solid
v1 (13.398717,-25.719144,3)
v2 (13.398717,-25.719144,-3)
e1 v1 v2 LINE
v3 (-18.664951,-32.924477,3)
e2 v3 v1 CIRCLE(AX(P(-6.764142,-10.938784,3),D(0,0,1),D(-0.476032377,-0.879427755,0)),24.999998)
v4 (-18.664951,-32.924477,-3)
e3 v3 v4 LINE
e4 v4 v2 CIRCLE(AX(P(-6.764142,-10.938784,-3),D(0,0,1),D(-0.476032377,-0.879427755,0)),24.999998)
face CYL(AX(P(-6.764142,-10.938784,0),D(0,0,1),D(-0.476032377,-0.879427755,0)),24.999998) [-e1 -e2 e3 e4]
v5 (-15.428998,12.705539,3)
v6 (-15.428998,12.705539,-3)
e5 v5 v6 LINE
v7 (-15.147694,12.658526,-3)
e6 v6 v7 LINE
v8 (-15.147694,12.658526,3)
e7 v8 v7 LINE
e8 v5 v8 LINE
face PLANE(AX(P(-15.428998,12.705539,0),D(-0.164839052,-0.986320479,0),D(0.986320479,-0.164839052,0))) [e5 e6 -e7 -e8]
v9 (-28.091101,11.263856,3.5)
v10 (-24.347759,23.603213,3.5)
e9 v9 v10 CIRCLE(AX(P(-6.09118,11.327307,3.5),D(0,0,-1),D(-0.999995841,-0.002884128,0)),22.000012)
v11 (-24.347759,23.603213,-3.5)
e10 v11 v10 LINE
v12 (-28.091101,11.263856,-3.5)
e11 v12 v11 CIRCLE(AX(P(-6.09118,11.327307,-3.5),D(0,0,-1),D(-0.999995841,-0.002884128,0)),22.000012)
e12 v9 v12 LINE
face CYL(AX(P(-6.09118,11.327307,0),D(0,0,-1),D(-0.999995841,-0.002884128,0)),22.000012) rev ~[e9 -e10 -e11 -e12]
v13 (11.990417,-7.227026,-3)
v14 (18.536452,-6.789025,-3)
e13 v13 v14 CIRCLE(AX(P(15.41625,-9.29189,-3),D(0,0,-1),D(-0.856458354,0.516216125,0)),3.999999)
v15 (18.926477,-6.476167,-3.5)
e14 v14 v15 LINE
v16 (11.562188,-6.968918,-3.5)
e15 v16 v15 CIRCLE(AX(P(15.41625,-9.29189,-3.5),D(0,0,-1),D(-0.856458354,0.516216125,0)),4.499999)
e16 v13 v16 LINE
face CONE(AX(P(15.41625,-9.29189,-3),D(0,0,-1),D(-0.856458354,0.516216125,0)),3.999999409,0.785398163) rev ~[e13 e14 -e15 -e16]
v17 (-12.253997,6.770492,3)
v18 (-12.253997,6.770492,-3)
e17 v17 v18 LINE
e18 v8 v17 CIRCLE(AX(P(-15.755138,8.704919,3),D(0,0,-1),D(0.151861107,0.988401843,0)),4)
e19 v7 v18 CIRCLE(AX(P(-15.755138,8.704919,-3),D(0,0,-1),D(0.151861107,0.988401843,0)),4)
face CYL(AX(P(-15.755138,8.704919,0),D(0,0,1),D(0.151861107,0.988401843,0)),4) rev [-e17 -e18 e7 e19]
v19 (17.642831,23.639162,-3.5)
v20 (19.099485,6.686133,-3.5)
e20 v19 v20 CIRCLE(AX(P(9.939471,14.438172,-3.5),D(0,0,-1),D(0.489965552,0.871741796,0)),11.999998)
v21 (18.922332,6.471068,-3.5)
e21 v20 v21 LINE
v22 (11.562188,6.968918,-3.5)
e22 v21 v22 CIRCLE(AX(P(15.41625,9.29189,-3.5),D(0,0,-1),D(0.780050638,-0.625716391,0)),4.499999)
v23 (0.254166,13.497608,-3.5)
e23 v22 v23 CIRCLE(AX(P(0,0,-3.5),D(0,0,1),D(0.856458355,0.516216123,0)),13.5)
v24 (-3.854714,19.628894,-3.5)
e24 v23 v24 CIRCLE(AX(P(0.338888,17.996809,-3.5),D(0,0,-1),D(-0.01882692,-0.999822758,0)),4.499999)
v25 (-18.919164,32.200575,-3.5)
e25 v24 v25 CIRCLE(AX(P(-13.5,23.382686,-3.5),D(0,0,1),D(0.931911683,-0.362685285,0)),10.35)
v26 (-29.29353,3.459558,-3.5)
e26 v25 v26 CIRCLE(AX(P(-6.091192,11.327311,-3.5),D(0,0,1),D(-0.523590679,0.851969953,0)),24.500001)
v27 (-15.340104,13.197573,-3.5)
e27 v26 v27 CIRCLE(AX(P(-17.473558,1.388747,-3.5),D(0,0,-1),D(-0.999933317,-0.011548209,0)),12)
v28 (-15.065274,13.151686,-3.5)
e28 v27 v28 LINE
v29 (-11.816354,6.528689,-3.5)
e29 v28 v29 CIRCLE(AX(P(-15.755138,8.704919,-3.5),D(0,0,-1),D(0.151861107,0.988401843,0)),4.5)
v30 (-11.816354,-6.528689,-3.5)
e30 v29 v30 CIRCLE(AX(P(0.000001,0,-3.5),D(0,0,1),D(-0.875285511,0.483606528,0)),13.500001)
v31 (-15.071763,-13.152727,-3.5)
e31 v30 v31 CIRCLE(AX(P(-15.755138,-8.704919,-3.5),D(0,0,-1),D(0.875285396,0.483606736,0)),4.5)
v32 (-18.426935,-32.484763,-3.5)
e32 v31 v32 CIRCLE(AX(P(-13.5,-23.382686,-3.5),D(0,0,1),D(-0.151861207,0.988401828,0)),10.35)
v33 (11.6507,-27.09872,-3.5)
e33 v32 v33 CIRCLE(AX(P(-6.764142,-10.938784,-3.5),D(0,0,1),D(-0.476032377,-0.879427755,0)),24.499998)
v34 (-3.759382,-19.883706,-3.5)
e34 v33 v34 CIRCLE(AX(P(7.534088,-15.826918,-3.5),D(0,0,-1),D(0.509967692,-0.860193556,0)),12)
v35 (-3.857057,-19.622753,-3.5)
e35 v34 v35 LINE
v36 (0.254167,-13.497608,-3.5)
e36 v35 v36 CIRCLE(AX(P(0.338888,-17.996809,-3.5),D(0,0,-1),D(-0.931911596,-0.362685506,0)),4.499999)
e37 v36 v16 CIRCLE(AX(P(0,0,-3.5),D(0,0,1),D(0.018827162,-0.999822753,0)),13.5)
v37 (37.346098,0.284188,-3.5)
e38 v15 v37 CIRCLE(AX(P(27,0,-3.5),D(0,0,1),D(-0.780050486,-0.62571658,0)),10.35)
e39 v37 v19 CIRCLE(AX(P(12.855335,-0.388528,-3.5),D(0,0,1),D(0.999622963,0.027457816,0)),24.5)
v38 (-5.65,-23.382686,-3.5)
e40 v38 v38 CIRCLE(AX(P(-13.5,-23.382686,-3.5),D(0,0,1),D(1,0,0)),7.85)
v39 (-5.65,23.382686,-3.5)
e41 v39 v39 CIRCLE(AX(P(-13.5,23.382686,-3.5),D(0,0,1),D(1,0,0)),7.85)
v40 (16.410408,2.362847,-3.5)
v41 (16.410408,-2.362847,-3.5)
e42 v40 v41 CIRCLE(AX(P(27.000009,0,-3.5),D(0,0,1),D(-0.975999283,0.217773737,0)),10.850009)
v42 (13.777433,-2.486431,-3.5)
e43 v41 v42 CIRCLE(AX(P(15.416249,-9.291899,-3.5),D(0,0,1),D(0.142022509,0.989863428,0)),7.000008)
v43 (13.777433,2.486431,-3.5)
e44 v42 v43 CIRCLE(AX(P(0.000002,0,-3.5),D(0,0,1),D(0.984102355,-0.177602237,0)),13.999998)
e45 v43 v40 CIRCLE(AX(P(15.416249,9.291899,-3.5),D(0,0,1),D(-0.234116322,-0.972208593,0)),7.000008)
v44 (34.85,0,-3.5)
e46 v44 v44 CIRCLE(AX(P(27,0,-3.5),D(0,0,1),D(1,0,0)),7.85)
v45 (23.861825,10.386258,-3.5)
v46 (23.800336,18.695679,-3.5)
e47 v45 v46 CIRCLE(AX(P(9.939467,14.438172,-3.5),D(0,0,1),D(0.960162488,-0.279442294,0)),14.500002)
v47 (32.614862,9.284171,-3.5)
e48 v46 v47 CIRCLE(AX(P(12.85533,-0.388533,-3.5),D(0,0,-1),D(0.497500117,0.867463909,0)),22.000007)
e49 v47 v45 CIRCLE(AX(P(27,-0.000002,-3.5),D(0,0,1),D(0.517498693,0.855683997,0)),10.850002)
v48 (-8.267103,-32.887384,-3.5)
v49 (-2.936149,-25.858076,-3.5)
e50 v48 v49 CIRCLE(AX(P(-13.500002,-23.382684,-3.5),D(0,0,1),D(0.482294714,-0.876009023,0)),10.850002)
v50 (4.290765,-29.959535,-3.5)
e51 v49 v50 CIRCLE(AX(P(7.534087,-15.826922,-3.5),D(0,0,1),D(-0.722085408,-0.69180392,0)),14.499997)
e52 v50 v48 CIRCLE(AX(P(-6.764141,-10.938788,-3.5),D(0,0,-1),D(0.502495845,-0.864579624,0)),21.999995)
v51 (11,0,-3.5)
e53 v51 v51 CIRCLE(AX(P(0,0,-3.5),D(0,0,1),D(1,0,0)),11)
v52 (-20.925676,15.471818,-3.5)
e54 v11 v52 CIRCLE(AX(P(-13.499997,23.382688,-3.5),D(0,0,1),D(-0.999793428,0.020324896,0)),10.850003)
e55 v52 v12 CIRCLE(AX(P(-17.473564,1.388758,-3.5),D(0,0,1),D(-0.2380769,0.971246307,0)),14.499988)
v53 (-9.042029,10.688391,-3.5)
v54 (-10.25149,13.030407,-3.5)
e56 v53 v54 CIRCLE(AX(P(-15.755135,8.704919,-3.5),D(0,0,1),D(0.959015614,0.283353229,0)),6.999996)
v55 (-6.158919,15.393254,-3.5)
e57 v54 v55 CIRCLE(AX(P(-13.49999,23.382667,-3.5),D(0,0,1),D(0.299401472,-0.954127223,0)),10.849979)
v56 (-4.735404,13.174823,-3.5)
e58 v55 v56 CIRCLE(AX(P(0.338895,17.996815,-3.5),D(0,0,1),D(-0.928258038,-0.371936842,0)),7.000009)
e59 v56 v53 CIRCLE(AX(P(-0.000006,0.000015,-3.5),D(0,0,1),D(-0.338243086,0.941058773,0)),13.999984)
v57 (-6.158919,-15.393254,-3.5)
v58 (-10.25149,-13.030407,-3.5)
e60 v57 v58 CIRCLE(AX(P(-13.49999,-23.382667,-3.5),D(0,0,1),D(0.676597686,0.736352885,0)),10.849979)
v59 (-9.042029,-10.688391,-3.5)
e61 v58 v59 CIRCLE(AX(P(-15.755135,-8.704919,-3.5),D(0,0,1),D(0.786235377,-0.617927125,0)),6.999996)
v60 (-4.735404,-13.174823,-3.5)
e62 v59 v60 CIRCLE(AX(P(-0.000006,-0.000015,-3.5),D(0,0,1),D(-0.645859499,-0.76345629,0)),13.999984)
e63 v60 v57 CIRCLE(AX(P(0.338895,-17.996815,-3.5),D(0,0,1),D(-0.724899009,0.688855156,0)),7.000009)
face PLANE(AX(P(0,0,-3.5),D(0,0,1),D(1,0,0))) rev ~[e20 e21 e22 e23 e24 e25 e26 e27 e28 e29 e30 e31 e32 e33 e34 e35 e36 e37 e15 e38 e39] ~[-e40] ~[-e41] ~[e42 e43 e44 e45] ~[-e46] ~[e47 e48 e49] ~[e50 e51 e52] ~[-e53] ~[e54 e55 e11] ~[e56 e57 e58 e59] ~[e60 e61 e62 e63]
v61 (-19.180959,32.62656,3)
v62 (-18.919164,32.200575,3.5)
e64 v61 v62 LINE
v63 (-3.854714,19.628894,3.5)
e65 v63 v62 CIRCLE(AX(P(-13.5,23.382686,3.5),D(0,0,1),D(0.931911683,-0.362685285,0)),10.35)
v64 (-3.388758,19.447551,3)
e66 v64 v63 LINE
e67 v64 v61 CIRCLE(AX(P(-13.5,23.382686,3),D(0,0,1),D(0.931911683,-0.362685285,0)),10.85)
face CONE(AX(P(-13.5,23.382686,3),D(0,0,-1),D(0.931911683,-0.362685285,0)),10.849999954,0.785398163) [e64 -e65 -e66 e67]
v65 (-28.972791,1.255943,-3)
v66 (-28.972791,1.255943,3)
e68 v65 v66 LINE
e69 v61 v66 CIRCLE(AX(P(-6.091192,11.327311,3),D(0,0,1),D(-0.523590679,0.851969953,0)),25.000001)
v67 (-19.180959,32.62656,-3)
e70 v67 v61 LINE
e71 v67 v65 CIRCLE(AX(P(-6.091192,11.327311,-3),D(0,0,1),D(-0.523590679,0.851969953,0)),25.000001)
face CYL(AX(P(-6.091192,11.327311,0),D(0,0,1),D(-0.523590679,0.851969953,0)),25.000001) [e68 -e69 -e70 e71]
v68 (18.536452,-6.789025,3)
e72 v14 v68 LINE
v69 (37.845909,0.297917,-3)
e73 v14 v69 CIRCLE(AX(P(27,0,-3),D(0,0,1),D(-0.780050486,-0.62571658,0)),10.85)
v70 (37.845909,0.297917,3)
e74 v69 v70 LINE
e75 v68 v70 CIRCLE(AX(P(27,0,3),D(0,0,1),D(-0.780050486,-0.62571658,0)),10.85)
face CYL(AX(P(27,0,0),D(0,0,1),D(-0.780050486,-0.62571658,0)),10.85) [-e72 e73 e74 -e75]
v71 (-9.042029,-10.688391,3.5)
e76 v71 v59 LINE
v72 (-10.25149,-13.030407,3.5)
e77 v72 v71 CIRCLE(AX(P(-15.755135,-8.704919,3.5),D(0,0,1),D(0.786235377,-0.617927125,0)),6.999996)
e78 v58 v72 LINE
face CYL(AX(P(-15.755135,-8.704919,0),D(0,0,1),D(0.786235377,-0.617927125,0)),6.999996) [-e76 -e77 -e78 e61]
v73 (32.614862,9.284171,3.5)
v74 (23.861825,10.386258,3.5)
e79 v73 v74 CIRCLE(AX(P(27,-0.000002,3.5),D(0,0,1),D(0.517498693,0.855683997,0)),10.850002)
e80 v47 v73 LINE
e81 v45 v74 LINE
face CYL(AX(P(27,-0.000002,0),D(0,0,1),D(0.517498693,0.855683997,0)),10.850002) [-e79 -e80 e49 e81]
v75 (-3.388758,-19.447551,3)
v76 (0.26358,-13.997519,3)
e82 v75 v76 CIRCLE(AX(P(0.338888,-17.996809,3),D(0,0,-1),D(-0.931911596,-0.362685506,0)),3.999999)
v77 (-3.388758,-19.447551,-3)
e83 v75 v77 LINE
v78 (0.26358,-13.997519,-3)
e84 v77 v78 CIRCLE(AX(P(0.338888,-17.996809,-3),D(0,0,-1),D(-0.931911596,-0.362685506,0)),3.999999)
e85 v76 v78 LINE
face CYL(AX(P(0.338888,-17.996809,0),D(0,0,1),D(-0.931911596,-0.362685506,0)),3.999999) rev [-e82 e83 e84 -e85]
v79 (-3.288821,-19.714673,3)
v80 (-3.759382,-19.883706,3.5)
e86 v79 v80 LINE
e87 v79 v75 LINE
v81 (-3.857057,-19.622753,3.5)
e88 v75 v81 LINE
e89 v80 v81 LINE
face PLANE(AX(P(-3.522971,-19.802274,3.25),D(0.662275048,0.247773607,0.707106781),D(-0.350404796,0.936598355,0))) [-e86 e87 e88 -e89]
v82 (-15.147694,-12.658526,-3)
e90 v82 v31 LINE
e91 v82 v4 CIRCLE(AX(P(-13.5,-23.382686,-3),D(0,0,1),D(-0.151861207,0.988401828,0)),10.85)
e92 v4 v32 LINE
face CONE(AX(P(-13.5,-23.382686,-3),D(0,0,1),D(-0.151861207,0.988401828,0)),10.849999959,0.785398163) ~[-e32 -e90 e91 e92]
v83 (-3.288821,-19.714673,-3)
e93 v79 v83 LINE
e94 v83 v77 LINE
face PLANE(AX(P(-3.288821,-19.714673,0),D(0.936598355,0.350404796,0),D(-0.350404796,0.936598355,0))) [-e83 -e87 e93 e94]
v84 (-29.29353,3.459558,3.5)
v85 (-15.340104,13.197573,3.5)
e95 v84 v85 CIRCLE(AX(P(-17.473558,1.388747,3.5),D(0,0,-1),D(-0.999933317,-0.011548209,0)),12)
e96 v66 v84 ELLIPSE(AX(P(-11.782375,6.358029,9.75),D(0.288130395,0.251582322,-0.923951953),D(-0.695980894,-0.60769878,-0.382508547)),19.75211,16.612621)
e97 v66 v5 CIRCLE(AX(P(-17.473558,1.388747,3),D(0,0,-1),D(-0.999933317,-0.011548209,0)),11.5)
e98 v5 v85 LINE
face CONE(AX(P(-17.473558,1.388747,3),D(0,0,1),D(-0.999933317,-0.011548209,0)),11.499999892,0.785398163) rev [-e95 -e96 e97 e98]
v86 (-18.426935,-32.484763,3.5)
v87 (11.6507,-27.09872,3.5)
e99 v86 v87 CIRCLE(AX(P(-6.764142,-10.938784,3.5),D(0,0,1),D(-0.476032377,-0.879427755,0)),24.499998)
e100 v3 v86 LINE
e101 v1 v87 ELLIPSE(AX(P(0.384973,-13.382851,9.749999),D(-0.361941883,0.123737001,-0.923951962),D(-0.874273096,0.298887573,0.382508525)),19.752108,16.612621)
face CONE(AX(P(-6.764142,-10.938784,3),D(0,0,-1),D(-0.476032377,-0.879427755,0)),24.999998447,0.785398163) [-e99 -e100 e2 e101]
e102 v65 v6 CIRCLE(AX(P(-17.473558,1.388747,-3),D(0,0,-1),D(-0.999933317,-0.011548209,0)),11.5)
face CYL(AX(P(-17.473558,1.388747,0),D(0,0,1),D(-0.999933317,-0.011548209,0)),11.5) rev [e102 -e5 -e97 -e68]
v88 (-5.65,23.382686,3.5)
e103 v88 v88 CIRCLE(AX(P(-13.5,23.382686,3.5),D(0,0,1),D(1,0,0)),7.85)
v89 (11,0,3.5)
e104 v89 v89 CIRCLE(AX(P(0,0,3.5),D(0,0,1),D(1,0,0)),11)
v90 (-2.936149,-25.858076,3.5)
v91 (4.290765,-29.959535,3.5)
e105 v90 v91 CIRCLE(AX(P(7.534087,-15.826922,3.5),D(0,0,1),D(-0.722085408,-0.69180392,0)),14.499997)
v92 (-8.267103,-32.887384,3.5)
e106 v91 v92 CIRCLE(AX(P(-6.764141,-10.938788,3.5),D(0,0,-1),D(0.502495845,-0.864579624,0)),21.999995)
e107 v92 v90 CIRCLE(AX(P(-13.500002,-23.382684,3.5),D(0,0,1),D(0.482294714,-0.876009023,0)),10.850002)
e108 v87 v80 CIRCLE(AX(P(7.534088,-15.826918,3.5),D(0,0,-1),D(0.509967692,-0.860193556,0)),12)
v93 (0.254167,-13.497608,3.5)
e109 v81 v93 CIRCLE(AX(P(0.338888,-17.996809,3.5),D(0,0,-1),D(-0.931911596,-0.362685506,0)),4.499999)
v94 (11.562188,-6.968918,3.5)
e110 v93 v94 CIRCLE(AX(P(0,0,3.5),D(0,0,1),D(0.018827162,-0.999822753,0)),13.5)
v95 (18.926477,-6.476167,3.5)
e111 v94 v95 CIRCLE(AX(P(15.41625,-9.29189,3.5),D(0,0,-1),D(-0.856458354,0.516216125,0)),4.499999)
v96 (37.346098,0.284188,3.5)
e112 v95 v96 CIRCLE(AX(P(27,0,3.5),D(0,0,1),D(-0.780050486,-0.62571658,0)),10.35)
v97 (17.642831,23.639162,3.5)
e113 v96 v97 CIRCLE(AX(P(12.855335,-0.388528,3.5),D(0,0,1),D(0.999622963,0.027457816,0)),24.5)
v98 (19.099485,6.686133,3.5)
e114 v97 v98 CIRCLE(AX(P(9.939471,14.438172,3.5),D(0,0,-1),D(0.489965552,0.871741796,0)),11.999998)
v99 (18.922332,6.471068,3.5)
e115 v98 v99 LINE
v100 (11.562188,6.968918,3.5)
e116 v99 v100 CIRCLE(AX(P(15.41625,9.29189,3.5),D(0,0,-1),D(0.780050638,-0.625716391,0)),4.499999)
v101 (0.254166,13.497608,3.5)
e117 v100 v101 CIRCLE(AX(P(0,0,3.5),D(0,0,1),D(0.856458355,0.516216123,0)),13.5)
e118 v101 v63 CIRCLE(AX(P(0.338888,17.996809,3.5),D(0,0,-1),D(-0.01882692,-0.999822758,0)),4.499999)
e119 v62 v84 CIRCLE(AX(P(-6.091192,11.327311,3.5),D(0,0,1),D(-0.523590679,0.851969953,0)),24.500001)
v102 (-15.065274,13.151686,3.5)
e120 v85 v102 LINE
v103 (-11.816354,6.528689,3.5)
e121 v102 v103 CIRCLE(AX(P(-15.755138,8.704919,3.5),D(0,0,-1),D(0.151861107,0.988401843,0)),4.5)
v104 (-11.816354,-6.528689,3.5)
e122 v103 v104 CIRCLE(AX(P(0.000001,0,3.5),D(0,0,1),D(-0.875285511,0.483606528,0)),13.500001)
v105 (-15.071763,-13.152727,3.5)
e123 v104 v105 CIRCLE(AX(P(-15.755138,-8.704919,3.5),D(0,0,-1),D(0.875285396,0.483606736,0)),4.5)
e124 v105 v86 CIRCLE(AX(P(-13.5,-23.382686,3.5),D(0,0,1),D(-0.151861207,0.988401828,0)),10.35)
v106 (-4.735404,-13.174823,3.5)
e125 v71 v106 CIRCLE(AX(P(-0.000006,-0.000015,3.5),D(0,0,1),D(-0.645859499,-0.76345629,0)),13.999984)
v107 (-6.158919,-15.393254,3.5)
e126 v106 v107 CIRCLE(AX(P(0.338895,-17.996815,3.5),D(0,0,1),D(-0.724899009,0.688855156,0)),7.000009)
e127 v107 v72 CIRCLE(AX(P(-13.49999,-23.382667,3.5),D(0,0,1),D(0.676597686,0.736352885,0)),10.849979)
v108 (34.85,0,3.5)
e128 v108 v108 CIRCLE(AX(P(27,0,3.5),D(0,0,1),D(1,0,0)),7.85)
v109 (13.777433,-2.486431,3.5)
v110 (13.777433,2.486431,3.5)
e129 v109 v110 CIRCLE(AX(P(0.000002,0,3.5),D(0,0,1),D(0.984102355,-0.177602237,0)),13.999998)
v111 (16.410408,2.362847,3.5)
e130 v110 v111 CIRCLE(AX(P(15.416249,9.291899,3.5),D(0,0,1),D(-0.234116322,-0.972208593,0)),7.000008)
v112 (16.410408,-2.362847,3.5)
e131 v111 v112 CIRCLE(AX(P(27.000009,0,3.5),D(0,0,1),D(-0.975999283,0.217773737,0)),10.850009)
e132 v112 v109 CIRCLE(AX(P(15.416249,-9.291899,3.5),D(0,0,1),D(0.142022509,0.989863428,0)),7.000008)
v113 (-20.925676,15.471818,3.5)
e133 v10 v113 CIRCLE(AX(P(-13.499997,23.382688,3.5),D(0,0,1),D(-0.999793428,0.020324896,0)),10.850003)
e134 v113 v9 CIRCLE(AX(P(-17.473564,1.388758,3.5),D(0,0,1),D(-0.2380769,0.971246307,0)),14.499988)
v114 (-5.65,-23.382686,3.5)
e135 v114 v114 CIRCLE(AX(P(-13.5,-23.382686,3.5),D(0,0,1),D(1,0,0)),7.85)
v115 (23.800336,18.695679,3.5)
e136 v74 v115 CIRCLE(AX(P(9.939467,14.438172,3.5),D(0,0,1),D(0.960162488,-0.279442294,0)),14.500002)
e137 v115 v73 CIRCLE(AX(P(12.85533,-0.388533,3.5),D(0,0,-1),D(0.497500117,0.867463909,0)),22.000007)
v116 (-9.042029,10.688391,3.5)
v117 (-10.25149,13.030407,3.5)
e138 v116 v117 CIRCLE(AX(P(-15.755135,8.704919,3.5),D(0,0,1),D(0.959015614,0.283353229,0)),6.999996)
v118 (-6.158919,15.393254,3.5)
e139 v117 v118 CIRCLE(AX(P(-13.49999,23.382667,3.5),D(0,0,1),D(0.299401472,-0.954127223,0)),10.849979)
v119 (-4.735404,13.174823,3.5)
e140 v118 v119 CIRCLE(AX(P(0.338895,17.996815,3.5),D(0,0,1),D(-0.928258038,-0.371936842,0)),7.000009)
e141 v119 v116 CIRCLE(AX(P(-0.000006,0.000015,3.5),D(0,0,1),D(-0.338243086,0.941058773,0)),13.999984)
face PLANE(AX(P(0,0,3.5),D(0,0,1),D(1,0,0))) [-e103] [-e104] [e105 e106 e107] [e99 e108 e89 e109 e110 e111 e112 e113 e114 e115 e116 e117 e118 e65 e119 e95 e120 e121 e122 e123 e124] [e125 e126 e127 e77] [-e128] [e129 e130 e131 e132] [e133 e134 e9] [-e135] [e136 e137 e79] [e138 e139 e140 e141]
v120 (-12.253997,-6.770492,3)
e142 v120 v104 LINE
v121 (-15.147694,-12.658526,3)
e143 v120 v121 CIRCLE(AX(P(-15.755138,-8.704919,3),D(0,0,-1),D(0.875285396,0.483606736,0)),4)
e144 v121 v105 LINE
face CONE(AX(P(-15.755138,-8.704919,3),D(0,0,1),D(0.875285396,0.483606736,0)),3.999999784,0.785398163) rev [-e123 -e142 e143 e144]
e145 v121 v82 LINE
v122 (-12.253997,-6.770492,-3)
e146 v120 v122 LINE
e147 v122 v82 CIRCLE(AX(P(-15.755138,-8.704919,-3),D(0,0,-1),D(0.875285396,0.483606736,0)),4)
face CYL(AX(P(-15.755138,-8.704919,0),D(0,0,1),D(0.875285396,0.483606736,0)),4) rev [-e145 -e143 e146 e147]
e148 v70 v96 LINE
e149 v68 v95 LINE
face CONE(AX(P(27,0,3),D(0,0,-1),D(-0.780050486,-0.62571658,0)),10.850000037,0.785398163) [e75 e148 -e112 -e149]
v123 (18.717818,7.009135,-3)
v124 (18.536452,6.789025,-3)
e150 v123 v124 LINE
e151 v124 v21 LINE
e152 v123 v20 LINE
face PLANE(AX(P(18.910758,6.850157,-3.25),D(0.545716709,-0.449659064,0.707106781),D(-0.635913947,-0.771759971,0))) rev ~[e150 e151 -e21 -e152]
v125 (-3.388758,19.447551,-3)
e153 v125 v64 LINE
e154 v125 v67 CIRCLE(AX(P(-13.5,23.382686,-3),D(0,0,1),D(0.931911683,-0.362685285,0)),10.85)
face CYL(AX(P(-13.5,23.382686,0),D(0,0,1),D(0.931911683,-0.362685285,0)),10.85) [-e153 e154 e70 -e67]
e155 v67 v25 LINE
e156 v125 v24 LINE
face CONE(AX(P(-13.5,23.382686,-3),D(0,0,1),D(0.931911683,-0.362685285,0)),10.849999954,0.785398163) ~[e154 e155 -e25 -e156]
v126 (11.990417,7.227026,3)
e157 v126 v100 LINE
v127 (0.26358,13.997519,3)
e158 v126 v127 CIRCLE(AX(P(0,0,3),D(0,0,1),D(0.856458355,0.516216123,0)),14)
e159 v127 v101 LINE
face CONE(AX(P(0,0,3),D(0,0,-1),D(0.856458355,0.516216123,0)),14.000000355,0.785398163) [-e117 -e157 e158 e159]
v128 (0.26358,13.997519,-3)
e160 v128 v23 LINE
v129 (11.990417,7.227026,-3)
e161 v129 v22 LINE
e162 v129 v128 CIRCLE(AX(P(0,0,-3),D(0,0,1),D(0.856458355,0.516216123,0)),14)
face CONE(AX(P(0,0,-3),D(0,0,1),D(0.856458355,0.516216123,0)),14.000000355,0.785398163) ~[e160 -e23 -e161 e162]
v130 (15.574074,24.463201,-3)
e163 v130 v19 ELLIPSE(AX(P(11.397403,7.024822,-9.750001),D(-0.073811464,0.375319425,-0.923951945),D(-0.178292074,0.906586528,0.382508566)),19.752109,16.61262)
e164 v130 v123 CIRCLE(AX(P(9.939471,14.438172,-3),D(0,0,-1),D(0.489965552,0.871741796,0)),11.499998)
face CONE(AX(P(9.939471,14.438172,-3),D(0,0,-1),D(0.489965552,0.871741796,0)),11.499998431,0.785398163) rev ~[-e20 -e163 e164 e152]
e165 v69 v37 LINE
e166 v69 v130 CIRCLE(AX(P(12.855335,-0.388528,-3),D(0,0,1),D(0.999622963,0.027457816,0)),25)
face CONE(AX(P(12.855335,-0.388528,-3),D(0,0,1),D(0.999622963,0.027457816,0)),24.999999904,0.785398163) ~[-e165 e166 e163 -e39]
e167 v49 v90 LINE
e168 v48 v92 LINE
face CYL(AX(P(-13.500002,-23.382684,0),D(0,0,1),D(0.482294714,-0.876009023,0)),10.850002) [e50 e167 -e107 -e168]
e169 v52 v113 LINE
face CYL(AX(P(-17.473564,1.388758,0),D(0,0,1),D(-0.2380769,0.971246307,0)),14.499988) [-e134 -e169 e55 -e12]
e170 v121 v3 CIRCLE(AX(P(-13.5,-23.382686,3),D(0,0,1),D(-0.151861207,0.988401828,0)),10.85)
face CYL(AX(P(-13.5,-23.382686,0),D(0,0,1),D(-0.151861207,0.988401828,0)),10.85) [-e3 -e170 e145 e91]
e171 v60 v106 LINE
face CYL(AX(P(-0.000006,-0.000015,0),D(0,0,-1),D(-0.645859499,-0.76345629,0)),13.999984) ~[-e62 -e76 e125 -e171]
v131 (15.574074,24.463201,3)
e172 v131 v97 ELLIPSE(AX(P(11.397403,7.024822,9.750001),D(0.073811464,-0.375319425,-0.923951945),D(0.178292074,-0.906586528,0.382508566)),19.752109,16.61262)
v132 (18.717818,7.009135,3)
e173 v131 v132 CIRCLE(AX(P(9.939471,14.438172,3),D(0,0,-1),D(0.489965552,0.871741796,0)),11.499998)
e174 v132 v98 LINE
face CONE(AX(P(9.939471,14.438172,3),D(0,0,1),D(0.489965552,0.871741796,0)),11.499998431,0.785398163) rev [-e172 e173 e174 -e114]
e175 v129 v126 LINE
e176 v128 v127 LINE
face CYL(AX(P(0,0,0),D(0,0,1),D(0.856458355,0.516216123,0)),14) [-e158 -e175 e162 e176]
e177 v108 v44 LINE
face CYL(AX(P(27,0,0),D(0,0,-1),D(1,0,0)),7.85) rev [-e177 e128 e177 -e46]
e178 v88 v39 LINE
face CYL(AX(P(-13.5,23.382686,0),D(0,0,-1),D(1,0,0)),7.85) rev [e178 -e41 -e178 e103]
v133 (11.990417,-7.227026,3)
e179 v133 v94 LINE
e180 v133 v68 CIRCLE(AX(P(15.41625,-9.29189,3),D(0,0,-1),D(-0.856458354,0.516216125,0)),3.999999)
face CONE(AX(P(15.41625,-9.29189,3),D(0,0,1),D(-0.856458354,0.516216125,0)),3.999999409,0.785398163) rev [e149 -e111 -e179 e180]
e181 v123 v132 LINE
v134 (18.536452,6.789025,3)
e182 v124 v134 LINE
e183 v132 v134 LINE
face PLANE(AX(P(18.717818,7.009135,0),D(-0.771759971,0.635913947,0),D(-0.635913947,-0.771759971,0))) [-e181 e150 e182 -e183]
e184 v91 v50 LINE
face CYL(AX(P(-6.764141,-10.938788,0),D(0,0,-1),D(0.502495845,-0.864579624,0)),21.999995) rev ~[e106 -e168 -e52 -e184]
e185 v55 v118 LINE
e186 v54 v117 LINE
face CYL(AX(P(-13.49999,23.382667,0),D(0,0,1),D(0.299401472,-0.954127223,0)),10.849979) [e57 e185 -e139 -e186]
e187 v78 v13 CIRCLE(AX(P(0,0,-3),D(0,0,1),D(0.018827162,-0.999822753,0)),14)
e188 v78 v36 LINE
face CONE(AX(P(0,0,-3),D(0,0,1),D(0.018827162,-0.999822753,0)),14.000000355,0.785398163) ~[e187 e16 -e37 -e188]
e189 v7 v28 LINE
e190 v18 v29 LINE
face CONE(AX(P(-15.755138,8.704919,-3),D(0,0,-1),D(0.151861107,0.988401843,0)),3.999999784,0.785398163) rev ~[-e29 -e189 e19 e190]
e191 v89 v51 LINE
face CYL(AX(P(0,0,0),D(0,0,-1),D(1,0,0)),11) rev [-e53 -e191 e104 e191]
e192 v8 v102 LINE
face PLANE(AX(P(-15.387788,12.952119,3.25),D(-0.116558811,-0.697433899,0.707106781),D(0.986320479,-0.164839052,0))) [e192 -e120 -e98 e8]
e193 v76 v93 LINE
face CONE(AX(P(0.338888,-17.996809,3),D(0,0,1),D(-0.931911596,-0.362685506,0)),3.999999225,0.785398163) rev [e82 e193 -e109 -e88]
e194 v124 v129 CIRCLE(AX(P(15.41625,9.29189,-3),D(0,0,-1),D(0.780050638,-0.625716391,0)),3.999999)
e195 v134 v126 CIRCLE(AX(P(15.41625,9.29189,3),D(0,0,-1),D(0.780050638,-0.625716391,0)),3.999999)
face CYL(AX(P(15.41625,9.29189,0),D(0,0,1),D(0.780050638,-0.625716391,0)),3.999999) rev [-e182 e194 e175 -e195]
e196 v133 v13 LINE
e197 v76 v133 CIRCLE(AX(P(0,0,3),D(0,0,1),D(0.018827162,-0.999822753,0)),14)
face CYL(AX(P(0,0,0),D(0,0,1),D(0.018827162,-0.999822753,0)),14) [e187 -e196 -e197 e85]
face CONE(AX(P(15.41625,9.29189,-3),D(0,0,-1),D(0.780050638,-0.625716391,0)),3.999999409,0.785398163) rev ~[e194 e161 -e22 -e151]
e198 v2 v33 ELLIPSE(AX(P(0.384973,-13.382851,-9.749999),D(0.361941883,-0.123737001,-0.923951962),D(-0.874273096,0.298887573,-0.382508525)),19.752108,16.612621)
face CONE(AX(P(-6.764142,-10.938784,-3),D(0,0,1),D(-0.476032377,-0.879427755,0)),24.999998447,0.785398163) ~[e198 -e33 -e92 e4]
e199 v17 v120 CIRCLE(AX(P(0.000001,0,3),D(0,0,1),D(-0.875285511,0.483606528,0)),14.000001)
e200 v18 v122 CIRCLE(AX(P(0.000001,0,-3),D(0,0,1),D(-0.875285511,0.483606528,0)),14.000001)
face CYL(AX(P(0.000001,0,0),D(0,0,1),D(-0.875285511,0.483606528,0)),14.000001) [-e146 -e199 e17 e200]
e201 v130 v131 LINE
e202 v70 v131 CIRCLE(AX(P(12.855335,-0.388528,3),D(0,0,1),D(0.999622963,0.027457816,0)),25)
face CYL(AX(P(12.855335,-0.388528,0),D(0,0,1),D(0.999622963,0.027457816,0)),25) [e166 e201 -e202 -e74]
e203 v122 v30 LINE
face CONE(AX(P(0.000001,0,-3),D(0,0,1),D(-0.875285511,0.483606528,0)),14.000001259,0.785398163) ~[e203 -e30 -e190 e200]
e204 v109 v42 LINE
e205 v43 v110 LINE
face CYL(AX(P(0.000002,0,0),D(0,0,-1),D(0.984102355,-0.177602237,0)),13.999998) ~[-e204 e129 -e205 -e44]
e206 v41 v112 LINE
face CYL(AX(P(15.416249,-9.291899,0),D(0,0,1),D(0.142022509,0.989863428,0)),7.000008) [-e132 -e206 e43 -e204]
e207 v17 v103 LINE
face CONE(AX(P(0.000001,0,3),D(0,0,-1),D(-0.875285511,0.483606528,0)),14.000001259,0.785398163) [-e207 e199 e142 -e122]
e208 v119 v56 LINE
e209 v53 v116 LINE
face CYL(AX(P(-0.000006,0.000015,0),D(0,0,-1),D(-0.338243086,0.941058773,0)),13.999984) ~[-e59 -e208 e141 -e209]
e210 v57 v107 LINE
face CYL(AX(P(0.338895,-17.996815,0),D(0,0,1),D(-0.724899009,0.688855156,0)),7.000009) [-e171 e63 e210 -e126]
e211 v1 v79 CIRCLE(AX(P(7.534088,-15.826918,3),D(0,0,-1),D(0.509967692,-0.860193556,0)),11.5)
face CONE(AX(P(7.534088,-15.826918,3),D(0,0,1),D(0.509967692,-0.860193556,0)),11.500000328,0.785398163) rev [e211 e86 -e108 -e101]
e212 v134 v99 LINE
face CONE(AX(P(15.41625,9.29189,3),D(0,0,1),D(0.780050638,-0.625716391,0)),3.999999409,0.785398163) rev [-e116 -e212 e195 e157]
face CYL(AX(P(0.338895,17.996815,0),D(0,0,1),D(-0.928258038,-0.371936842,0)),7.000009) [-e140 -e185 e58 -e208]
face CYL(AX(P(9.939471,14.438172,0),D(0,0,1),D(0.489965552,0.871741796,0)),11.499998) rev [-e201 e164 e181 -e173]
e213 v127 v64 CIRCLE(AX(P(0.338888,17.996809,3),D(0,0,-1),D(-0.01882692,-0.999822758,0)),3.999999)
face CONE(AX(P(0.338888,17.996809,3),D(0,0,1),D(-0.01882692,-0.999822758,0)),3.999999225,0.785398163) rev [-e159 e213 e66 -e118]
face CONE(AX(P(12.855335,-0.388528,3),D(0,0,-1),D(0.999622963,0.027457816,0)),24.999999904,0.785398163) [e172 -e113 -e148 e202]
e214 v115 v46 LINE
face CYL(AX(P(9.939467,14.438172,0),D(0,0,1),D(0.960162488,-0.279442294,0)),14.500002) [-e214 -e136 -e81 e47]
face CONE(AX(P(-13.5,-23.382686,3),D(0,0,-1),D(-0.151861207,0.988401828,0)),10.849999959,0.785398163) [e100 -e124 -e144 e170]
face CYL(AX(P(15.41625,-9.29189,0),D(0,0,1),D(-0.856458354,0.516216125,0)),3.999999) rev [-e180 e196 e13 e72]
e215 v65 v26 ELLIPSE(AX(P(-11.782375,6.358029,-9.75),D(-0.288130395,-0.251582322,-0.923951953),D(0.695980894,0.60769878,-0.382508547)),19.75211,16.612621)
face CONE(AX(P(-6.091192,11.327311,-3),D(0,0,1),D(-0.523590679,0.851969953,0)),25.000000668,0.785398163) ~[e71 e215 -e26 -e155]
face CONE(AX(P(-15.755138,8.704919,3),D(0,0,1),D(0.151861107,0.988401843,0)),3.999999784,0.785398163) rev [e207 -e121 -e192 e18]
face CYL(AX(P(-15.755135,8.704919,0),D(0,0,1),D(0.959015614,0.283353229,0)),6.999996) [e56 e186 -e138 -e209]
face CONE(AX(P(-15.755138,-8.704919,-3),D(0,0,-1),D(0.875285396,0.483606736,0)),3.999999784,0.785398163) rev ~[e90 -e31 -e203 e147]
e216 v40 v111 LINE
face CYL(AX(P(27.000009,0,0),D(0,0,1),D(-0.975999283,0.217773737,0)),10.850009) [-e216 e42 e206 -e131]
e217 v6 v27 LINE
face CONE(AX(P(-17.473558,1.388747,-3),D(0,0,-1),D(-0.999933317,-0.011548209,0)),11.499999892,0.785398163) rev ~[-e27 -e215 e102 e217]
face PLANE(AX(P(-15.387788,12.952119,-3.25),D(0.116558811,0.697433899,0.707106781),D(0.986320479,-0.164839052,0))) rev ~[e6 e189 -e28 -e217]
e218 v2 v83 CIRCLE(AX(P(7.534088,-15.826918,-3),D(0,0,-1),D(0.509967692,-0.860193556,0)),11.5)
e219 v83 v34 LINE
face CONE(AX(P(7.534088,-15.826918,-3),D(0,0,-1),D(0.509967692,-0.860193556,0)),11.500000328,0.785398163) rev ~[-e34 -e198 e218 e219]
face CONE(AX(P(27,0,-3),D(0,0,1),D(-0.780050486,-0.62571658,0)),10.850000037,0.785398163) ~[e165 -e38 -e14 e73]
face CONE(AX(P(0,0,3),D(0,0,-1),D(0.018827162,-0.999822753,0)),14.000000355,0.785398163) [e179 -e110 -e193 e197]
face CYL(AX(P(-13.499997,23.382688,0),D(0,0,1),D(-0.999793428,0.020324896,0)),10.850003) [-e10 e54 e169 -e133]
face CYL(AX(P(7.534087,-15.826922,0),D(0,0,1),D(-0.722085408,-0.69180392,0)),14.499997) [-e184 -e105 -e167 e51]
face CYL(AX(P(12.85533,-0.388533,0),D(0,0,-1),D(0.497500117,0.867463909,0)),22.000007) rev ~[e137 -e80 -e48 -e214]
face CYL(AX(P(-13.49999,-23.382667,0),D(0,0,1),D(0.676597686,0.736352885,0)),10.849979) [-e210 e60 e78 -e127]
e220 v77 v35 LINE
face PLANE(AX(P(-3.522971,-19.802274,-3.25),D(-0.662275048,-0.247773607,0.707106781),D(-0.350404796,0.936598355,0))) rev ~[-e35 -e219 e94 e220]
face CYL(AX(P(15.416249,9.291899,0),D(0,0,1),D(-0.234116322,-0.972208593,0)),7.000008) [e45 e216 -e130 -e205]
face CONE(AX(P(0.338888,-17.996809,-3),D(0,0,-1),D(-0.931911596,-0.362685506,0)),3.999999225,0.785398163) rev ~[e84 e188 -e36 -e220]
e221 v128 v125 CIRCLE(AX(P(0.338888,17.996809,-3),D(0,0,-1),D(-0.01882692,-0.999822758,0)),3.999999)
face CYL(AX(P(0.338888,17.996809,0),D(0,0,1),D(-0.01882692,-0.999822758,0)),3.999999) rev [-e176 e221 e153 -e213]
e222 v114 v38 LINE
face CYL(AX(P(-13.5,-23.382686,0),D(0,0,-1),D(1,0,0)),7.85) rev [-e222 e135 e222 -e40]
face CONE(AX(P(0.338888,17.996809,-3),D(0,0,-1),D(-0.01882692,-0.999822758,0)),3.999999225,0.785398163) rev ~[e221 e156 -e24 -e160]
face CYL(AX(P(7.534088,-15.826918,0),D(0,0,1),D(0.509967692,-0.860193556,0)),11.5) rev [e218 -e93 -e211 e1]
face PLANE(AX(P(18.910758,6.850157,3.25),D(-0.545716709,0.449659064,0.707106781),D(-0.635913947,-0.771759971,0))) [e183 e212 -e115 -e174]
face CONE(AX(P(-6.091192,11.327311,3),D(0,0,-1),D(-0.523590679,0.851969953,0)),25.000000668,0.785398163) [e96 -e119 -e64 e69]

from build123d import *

# Parameters (mm, degrees)
F0_R     = 7.85
F0_R_2   = 11
F1_DEPTH = 3.5
F2_SIZE  = 0.5


with BuildPart() as f1:
    # F0 (on Top) → F1 (new body, symmetric)
    with BuildSketch(Plane.XY):
        with BuildLine():
            ThreePointArc((11.990417, -7.227026), (15.149203, -5.300815), (18.536452, -6.789025))
            ThreePointArc((18.536452, -6.789025), (30.738328, -10.185647), (37.845909, 0.297917))
            ThreePointArc((37.845909, 0.297917), (31.238527, 16.554265), (15.574074, 24.463201))
            ThreePointArc((15.574074, 24.463201), (21.25735, 16.476695), (18.717818, 7.009135))
            Line((18.717818, 7.009135), (18.536452, 6.789025))
            ThreePointArc((18.536452, 6.789025), (15.149203, 5.300815), (11.990417, 7.227026))
            ThreePointArc((11.990417, 7.227026), (7, 12.124356), (0.26358, 13.997519))
            ThreePointArc((0.26358, 13.997519), (-2.983961, 15.770002), (-3.388758, 19.447551))
            ThreePointArc((-3.388758, 19.447551), (-6.548135, 31.712997), (-19.180959, 32.62656))
            ThreePointArc((-19.180959, 32.62656), (-29.955678, 18.776225), (-28.972791, 1.255943))
            ThreePointArc((-28.972791, 1.255943), (-24.897911, 10.171058), (-15.428998, 12.705539))
            Line((-15.428998, 12.705539), (-15.147694, 12.658526))
            ThreePointArc((-15.147694, 12.658526), (-12.165242, 10.469187), (-12.253997, 6.770492))
            ThreePointArc((-12.253997, 6.770492), (-14, 0), (-12.253997, -6.770492))
            ThreePointArc((-12.253997, -6.770492), (-12.165242, -10.469187), (-15.147694, -12.658526))
            ThreePointArc((-15.147694, -12.658526), (-24.190193, -21.52735), (-18.664951, -32.924477))
            ThreePointArc((-18.664951, -32.924477), (-1.282849, -35.330491), (13.398717, -25.719144))
            ThreePointArc((13.398717, -25.719144), (3.640561, -26.647752), (-3.288821, -19.714673))
            Line((-3.288821, -19.714673), (-3.388758, -19.447551))
            ThreePointArc((-3.388758, -19.447551), (-2.983961, -15.770002), (0.26358, -13.997519))
            ThreePointArc((0.26358, -13.997519), (7, -12.124356), (11.990417, -7.227026))
        make_face()
        with BuildLine():
            ThreePointArc((4.290765, -29.959535), (-1.768845, -32.364165), (-8.267103, -32.887384))
            ThreePointArc((-8.267103, -32.887384), (-4.854938, -29.939011), (-2.936149, -25.858076))
            ThreePointArc((-2.936149, -25.858076), (0.377208, -28.437591), (4.290765, -29.959535))
        make_face(mode=Mode.SUBTRACT)
        with Locations((-13.5, -23.382686)):
            Circle(F0_R, mode=Mode.SUBTRACT)
        with BuildLine():
            ThreePointArc((-10.25149, -13.030407), (-9.535528, -11.916841), (-9.042029, -10.688391))
            ThreePointArc((-9.042029, -10.688391), (-7, -12.124356), (-4.735404, -13.174823))
            ThreePointArc((-4.735404, -13.174823), (-5.552523, -14.21643), (-6.158919, -15.393254))
            ThreePointArc((-6.158919, -15.393254), (-8.075, -13.98631), (-10.25149, -13.030407))
        make_face(mode=Mode.SUBTRACT)
        Circle(F0_R_2, mode=Mode.SUBTRACT)
        with BuildLine():
            ThreePointArc((-6.158919, 15.393254), (-5.552523, 14.21643), (-4.735404, 13.174823))
            ThreePointArc((-4.735404, 13.174823), (-7, 12.124356), (-9.042029, 10.688391))
            ThreePointArc((-9.042029, 10.688391), (-9.535528, 11.916841), (-10.25149, 13.030407))
            ThreePointArc((-10.25149, 13.030407), (-8.075, 13.98631), (-6.158919, 15.393254))
        make_face(mode=Mode.SUBTRACT)
        with BuildLine():
            ThreePointArc((-28.091101, 11.263856), (-27.143766, 17.713947), (-24.347759, 23.603213))
            ThreePointArc((-24.347759, 23.603213), (-23.500475, 19.174005), (-20.925676, 15.471818))
            ThreePointArc((-20.925676, 15.471818), (-24.816281, 13.892124), (-28.091101, 11.263856))
        make_face(mode=Mode.SUBTRACT)
        with Locations((-13.5, 23.382686)):
            Circle(F0_R, mode=Mode.SUBTRACT)
        with BuildLine():
            ThreePointArc((16.410408, -2.362847), (15.088051, -2.299589), (13.777433, -2.486431))
            ThreePointArc((13.777433, -2.486431), (14, 0), (13.777433, 2.486431))
            ThreePointArc((13.777433, 2.486431), (15.088051, 2.299589), (16.410408, 2.362847))
            ThreePointArc((16.410408, 2.362847), (16.15, 0), (16.410408, -2.362847))
        make_face(mode=Mode.SUBTRACT)
        with Locations((27, 0)):
            Circle(F0_R, mode=Mode.SUBTRACT)
        with BuildLine():
            ThreePointArc((23.800336, 18.695679), (28.912611, 14.650218), (32.614862, 9.284171))
            ThreePointArc((32.614862, 9.284171), (28.355413, 10.765006), (23.861825, 10.386258))
            ThreePointArc((23.861825, 10.386258), (24.439072, 14.545468), (23.800336, 18.695679))
        make_face(mode=Mode.SUBTRACT)
    extrude(amount=F1_DEPTH, both=True)

    # F2
    f2_edges = [f1.edges().sort_by_distance(p)[0] for p in [
        (7, -12.124356, -3.5),
        (-24.190193, -21.52735, -3.5),
        (3.640561, -26.647752, -3.5),
        (-24.897911, 10.171058, -3.5),
        (-29.955678, 18.776225, -3.5),
        (21.25735, 16.476695, -3.5),
        (21.25735, 16.476695, 3.5),
        (7, 12.124356, 3.5),
        (31.238527, 16.554265, 3.5),
        (3.640561, -26.647752, 3.5),
        (-1.282849, -35.330491, 3.5),
        (-24.897911, 10.171058, 3.5),
    ]]
    chamfer(f2_edges, length=F2_SIZE)


solid = f1.part
